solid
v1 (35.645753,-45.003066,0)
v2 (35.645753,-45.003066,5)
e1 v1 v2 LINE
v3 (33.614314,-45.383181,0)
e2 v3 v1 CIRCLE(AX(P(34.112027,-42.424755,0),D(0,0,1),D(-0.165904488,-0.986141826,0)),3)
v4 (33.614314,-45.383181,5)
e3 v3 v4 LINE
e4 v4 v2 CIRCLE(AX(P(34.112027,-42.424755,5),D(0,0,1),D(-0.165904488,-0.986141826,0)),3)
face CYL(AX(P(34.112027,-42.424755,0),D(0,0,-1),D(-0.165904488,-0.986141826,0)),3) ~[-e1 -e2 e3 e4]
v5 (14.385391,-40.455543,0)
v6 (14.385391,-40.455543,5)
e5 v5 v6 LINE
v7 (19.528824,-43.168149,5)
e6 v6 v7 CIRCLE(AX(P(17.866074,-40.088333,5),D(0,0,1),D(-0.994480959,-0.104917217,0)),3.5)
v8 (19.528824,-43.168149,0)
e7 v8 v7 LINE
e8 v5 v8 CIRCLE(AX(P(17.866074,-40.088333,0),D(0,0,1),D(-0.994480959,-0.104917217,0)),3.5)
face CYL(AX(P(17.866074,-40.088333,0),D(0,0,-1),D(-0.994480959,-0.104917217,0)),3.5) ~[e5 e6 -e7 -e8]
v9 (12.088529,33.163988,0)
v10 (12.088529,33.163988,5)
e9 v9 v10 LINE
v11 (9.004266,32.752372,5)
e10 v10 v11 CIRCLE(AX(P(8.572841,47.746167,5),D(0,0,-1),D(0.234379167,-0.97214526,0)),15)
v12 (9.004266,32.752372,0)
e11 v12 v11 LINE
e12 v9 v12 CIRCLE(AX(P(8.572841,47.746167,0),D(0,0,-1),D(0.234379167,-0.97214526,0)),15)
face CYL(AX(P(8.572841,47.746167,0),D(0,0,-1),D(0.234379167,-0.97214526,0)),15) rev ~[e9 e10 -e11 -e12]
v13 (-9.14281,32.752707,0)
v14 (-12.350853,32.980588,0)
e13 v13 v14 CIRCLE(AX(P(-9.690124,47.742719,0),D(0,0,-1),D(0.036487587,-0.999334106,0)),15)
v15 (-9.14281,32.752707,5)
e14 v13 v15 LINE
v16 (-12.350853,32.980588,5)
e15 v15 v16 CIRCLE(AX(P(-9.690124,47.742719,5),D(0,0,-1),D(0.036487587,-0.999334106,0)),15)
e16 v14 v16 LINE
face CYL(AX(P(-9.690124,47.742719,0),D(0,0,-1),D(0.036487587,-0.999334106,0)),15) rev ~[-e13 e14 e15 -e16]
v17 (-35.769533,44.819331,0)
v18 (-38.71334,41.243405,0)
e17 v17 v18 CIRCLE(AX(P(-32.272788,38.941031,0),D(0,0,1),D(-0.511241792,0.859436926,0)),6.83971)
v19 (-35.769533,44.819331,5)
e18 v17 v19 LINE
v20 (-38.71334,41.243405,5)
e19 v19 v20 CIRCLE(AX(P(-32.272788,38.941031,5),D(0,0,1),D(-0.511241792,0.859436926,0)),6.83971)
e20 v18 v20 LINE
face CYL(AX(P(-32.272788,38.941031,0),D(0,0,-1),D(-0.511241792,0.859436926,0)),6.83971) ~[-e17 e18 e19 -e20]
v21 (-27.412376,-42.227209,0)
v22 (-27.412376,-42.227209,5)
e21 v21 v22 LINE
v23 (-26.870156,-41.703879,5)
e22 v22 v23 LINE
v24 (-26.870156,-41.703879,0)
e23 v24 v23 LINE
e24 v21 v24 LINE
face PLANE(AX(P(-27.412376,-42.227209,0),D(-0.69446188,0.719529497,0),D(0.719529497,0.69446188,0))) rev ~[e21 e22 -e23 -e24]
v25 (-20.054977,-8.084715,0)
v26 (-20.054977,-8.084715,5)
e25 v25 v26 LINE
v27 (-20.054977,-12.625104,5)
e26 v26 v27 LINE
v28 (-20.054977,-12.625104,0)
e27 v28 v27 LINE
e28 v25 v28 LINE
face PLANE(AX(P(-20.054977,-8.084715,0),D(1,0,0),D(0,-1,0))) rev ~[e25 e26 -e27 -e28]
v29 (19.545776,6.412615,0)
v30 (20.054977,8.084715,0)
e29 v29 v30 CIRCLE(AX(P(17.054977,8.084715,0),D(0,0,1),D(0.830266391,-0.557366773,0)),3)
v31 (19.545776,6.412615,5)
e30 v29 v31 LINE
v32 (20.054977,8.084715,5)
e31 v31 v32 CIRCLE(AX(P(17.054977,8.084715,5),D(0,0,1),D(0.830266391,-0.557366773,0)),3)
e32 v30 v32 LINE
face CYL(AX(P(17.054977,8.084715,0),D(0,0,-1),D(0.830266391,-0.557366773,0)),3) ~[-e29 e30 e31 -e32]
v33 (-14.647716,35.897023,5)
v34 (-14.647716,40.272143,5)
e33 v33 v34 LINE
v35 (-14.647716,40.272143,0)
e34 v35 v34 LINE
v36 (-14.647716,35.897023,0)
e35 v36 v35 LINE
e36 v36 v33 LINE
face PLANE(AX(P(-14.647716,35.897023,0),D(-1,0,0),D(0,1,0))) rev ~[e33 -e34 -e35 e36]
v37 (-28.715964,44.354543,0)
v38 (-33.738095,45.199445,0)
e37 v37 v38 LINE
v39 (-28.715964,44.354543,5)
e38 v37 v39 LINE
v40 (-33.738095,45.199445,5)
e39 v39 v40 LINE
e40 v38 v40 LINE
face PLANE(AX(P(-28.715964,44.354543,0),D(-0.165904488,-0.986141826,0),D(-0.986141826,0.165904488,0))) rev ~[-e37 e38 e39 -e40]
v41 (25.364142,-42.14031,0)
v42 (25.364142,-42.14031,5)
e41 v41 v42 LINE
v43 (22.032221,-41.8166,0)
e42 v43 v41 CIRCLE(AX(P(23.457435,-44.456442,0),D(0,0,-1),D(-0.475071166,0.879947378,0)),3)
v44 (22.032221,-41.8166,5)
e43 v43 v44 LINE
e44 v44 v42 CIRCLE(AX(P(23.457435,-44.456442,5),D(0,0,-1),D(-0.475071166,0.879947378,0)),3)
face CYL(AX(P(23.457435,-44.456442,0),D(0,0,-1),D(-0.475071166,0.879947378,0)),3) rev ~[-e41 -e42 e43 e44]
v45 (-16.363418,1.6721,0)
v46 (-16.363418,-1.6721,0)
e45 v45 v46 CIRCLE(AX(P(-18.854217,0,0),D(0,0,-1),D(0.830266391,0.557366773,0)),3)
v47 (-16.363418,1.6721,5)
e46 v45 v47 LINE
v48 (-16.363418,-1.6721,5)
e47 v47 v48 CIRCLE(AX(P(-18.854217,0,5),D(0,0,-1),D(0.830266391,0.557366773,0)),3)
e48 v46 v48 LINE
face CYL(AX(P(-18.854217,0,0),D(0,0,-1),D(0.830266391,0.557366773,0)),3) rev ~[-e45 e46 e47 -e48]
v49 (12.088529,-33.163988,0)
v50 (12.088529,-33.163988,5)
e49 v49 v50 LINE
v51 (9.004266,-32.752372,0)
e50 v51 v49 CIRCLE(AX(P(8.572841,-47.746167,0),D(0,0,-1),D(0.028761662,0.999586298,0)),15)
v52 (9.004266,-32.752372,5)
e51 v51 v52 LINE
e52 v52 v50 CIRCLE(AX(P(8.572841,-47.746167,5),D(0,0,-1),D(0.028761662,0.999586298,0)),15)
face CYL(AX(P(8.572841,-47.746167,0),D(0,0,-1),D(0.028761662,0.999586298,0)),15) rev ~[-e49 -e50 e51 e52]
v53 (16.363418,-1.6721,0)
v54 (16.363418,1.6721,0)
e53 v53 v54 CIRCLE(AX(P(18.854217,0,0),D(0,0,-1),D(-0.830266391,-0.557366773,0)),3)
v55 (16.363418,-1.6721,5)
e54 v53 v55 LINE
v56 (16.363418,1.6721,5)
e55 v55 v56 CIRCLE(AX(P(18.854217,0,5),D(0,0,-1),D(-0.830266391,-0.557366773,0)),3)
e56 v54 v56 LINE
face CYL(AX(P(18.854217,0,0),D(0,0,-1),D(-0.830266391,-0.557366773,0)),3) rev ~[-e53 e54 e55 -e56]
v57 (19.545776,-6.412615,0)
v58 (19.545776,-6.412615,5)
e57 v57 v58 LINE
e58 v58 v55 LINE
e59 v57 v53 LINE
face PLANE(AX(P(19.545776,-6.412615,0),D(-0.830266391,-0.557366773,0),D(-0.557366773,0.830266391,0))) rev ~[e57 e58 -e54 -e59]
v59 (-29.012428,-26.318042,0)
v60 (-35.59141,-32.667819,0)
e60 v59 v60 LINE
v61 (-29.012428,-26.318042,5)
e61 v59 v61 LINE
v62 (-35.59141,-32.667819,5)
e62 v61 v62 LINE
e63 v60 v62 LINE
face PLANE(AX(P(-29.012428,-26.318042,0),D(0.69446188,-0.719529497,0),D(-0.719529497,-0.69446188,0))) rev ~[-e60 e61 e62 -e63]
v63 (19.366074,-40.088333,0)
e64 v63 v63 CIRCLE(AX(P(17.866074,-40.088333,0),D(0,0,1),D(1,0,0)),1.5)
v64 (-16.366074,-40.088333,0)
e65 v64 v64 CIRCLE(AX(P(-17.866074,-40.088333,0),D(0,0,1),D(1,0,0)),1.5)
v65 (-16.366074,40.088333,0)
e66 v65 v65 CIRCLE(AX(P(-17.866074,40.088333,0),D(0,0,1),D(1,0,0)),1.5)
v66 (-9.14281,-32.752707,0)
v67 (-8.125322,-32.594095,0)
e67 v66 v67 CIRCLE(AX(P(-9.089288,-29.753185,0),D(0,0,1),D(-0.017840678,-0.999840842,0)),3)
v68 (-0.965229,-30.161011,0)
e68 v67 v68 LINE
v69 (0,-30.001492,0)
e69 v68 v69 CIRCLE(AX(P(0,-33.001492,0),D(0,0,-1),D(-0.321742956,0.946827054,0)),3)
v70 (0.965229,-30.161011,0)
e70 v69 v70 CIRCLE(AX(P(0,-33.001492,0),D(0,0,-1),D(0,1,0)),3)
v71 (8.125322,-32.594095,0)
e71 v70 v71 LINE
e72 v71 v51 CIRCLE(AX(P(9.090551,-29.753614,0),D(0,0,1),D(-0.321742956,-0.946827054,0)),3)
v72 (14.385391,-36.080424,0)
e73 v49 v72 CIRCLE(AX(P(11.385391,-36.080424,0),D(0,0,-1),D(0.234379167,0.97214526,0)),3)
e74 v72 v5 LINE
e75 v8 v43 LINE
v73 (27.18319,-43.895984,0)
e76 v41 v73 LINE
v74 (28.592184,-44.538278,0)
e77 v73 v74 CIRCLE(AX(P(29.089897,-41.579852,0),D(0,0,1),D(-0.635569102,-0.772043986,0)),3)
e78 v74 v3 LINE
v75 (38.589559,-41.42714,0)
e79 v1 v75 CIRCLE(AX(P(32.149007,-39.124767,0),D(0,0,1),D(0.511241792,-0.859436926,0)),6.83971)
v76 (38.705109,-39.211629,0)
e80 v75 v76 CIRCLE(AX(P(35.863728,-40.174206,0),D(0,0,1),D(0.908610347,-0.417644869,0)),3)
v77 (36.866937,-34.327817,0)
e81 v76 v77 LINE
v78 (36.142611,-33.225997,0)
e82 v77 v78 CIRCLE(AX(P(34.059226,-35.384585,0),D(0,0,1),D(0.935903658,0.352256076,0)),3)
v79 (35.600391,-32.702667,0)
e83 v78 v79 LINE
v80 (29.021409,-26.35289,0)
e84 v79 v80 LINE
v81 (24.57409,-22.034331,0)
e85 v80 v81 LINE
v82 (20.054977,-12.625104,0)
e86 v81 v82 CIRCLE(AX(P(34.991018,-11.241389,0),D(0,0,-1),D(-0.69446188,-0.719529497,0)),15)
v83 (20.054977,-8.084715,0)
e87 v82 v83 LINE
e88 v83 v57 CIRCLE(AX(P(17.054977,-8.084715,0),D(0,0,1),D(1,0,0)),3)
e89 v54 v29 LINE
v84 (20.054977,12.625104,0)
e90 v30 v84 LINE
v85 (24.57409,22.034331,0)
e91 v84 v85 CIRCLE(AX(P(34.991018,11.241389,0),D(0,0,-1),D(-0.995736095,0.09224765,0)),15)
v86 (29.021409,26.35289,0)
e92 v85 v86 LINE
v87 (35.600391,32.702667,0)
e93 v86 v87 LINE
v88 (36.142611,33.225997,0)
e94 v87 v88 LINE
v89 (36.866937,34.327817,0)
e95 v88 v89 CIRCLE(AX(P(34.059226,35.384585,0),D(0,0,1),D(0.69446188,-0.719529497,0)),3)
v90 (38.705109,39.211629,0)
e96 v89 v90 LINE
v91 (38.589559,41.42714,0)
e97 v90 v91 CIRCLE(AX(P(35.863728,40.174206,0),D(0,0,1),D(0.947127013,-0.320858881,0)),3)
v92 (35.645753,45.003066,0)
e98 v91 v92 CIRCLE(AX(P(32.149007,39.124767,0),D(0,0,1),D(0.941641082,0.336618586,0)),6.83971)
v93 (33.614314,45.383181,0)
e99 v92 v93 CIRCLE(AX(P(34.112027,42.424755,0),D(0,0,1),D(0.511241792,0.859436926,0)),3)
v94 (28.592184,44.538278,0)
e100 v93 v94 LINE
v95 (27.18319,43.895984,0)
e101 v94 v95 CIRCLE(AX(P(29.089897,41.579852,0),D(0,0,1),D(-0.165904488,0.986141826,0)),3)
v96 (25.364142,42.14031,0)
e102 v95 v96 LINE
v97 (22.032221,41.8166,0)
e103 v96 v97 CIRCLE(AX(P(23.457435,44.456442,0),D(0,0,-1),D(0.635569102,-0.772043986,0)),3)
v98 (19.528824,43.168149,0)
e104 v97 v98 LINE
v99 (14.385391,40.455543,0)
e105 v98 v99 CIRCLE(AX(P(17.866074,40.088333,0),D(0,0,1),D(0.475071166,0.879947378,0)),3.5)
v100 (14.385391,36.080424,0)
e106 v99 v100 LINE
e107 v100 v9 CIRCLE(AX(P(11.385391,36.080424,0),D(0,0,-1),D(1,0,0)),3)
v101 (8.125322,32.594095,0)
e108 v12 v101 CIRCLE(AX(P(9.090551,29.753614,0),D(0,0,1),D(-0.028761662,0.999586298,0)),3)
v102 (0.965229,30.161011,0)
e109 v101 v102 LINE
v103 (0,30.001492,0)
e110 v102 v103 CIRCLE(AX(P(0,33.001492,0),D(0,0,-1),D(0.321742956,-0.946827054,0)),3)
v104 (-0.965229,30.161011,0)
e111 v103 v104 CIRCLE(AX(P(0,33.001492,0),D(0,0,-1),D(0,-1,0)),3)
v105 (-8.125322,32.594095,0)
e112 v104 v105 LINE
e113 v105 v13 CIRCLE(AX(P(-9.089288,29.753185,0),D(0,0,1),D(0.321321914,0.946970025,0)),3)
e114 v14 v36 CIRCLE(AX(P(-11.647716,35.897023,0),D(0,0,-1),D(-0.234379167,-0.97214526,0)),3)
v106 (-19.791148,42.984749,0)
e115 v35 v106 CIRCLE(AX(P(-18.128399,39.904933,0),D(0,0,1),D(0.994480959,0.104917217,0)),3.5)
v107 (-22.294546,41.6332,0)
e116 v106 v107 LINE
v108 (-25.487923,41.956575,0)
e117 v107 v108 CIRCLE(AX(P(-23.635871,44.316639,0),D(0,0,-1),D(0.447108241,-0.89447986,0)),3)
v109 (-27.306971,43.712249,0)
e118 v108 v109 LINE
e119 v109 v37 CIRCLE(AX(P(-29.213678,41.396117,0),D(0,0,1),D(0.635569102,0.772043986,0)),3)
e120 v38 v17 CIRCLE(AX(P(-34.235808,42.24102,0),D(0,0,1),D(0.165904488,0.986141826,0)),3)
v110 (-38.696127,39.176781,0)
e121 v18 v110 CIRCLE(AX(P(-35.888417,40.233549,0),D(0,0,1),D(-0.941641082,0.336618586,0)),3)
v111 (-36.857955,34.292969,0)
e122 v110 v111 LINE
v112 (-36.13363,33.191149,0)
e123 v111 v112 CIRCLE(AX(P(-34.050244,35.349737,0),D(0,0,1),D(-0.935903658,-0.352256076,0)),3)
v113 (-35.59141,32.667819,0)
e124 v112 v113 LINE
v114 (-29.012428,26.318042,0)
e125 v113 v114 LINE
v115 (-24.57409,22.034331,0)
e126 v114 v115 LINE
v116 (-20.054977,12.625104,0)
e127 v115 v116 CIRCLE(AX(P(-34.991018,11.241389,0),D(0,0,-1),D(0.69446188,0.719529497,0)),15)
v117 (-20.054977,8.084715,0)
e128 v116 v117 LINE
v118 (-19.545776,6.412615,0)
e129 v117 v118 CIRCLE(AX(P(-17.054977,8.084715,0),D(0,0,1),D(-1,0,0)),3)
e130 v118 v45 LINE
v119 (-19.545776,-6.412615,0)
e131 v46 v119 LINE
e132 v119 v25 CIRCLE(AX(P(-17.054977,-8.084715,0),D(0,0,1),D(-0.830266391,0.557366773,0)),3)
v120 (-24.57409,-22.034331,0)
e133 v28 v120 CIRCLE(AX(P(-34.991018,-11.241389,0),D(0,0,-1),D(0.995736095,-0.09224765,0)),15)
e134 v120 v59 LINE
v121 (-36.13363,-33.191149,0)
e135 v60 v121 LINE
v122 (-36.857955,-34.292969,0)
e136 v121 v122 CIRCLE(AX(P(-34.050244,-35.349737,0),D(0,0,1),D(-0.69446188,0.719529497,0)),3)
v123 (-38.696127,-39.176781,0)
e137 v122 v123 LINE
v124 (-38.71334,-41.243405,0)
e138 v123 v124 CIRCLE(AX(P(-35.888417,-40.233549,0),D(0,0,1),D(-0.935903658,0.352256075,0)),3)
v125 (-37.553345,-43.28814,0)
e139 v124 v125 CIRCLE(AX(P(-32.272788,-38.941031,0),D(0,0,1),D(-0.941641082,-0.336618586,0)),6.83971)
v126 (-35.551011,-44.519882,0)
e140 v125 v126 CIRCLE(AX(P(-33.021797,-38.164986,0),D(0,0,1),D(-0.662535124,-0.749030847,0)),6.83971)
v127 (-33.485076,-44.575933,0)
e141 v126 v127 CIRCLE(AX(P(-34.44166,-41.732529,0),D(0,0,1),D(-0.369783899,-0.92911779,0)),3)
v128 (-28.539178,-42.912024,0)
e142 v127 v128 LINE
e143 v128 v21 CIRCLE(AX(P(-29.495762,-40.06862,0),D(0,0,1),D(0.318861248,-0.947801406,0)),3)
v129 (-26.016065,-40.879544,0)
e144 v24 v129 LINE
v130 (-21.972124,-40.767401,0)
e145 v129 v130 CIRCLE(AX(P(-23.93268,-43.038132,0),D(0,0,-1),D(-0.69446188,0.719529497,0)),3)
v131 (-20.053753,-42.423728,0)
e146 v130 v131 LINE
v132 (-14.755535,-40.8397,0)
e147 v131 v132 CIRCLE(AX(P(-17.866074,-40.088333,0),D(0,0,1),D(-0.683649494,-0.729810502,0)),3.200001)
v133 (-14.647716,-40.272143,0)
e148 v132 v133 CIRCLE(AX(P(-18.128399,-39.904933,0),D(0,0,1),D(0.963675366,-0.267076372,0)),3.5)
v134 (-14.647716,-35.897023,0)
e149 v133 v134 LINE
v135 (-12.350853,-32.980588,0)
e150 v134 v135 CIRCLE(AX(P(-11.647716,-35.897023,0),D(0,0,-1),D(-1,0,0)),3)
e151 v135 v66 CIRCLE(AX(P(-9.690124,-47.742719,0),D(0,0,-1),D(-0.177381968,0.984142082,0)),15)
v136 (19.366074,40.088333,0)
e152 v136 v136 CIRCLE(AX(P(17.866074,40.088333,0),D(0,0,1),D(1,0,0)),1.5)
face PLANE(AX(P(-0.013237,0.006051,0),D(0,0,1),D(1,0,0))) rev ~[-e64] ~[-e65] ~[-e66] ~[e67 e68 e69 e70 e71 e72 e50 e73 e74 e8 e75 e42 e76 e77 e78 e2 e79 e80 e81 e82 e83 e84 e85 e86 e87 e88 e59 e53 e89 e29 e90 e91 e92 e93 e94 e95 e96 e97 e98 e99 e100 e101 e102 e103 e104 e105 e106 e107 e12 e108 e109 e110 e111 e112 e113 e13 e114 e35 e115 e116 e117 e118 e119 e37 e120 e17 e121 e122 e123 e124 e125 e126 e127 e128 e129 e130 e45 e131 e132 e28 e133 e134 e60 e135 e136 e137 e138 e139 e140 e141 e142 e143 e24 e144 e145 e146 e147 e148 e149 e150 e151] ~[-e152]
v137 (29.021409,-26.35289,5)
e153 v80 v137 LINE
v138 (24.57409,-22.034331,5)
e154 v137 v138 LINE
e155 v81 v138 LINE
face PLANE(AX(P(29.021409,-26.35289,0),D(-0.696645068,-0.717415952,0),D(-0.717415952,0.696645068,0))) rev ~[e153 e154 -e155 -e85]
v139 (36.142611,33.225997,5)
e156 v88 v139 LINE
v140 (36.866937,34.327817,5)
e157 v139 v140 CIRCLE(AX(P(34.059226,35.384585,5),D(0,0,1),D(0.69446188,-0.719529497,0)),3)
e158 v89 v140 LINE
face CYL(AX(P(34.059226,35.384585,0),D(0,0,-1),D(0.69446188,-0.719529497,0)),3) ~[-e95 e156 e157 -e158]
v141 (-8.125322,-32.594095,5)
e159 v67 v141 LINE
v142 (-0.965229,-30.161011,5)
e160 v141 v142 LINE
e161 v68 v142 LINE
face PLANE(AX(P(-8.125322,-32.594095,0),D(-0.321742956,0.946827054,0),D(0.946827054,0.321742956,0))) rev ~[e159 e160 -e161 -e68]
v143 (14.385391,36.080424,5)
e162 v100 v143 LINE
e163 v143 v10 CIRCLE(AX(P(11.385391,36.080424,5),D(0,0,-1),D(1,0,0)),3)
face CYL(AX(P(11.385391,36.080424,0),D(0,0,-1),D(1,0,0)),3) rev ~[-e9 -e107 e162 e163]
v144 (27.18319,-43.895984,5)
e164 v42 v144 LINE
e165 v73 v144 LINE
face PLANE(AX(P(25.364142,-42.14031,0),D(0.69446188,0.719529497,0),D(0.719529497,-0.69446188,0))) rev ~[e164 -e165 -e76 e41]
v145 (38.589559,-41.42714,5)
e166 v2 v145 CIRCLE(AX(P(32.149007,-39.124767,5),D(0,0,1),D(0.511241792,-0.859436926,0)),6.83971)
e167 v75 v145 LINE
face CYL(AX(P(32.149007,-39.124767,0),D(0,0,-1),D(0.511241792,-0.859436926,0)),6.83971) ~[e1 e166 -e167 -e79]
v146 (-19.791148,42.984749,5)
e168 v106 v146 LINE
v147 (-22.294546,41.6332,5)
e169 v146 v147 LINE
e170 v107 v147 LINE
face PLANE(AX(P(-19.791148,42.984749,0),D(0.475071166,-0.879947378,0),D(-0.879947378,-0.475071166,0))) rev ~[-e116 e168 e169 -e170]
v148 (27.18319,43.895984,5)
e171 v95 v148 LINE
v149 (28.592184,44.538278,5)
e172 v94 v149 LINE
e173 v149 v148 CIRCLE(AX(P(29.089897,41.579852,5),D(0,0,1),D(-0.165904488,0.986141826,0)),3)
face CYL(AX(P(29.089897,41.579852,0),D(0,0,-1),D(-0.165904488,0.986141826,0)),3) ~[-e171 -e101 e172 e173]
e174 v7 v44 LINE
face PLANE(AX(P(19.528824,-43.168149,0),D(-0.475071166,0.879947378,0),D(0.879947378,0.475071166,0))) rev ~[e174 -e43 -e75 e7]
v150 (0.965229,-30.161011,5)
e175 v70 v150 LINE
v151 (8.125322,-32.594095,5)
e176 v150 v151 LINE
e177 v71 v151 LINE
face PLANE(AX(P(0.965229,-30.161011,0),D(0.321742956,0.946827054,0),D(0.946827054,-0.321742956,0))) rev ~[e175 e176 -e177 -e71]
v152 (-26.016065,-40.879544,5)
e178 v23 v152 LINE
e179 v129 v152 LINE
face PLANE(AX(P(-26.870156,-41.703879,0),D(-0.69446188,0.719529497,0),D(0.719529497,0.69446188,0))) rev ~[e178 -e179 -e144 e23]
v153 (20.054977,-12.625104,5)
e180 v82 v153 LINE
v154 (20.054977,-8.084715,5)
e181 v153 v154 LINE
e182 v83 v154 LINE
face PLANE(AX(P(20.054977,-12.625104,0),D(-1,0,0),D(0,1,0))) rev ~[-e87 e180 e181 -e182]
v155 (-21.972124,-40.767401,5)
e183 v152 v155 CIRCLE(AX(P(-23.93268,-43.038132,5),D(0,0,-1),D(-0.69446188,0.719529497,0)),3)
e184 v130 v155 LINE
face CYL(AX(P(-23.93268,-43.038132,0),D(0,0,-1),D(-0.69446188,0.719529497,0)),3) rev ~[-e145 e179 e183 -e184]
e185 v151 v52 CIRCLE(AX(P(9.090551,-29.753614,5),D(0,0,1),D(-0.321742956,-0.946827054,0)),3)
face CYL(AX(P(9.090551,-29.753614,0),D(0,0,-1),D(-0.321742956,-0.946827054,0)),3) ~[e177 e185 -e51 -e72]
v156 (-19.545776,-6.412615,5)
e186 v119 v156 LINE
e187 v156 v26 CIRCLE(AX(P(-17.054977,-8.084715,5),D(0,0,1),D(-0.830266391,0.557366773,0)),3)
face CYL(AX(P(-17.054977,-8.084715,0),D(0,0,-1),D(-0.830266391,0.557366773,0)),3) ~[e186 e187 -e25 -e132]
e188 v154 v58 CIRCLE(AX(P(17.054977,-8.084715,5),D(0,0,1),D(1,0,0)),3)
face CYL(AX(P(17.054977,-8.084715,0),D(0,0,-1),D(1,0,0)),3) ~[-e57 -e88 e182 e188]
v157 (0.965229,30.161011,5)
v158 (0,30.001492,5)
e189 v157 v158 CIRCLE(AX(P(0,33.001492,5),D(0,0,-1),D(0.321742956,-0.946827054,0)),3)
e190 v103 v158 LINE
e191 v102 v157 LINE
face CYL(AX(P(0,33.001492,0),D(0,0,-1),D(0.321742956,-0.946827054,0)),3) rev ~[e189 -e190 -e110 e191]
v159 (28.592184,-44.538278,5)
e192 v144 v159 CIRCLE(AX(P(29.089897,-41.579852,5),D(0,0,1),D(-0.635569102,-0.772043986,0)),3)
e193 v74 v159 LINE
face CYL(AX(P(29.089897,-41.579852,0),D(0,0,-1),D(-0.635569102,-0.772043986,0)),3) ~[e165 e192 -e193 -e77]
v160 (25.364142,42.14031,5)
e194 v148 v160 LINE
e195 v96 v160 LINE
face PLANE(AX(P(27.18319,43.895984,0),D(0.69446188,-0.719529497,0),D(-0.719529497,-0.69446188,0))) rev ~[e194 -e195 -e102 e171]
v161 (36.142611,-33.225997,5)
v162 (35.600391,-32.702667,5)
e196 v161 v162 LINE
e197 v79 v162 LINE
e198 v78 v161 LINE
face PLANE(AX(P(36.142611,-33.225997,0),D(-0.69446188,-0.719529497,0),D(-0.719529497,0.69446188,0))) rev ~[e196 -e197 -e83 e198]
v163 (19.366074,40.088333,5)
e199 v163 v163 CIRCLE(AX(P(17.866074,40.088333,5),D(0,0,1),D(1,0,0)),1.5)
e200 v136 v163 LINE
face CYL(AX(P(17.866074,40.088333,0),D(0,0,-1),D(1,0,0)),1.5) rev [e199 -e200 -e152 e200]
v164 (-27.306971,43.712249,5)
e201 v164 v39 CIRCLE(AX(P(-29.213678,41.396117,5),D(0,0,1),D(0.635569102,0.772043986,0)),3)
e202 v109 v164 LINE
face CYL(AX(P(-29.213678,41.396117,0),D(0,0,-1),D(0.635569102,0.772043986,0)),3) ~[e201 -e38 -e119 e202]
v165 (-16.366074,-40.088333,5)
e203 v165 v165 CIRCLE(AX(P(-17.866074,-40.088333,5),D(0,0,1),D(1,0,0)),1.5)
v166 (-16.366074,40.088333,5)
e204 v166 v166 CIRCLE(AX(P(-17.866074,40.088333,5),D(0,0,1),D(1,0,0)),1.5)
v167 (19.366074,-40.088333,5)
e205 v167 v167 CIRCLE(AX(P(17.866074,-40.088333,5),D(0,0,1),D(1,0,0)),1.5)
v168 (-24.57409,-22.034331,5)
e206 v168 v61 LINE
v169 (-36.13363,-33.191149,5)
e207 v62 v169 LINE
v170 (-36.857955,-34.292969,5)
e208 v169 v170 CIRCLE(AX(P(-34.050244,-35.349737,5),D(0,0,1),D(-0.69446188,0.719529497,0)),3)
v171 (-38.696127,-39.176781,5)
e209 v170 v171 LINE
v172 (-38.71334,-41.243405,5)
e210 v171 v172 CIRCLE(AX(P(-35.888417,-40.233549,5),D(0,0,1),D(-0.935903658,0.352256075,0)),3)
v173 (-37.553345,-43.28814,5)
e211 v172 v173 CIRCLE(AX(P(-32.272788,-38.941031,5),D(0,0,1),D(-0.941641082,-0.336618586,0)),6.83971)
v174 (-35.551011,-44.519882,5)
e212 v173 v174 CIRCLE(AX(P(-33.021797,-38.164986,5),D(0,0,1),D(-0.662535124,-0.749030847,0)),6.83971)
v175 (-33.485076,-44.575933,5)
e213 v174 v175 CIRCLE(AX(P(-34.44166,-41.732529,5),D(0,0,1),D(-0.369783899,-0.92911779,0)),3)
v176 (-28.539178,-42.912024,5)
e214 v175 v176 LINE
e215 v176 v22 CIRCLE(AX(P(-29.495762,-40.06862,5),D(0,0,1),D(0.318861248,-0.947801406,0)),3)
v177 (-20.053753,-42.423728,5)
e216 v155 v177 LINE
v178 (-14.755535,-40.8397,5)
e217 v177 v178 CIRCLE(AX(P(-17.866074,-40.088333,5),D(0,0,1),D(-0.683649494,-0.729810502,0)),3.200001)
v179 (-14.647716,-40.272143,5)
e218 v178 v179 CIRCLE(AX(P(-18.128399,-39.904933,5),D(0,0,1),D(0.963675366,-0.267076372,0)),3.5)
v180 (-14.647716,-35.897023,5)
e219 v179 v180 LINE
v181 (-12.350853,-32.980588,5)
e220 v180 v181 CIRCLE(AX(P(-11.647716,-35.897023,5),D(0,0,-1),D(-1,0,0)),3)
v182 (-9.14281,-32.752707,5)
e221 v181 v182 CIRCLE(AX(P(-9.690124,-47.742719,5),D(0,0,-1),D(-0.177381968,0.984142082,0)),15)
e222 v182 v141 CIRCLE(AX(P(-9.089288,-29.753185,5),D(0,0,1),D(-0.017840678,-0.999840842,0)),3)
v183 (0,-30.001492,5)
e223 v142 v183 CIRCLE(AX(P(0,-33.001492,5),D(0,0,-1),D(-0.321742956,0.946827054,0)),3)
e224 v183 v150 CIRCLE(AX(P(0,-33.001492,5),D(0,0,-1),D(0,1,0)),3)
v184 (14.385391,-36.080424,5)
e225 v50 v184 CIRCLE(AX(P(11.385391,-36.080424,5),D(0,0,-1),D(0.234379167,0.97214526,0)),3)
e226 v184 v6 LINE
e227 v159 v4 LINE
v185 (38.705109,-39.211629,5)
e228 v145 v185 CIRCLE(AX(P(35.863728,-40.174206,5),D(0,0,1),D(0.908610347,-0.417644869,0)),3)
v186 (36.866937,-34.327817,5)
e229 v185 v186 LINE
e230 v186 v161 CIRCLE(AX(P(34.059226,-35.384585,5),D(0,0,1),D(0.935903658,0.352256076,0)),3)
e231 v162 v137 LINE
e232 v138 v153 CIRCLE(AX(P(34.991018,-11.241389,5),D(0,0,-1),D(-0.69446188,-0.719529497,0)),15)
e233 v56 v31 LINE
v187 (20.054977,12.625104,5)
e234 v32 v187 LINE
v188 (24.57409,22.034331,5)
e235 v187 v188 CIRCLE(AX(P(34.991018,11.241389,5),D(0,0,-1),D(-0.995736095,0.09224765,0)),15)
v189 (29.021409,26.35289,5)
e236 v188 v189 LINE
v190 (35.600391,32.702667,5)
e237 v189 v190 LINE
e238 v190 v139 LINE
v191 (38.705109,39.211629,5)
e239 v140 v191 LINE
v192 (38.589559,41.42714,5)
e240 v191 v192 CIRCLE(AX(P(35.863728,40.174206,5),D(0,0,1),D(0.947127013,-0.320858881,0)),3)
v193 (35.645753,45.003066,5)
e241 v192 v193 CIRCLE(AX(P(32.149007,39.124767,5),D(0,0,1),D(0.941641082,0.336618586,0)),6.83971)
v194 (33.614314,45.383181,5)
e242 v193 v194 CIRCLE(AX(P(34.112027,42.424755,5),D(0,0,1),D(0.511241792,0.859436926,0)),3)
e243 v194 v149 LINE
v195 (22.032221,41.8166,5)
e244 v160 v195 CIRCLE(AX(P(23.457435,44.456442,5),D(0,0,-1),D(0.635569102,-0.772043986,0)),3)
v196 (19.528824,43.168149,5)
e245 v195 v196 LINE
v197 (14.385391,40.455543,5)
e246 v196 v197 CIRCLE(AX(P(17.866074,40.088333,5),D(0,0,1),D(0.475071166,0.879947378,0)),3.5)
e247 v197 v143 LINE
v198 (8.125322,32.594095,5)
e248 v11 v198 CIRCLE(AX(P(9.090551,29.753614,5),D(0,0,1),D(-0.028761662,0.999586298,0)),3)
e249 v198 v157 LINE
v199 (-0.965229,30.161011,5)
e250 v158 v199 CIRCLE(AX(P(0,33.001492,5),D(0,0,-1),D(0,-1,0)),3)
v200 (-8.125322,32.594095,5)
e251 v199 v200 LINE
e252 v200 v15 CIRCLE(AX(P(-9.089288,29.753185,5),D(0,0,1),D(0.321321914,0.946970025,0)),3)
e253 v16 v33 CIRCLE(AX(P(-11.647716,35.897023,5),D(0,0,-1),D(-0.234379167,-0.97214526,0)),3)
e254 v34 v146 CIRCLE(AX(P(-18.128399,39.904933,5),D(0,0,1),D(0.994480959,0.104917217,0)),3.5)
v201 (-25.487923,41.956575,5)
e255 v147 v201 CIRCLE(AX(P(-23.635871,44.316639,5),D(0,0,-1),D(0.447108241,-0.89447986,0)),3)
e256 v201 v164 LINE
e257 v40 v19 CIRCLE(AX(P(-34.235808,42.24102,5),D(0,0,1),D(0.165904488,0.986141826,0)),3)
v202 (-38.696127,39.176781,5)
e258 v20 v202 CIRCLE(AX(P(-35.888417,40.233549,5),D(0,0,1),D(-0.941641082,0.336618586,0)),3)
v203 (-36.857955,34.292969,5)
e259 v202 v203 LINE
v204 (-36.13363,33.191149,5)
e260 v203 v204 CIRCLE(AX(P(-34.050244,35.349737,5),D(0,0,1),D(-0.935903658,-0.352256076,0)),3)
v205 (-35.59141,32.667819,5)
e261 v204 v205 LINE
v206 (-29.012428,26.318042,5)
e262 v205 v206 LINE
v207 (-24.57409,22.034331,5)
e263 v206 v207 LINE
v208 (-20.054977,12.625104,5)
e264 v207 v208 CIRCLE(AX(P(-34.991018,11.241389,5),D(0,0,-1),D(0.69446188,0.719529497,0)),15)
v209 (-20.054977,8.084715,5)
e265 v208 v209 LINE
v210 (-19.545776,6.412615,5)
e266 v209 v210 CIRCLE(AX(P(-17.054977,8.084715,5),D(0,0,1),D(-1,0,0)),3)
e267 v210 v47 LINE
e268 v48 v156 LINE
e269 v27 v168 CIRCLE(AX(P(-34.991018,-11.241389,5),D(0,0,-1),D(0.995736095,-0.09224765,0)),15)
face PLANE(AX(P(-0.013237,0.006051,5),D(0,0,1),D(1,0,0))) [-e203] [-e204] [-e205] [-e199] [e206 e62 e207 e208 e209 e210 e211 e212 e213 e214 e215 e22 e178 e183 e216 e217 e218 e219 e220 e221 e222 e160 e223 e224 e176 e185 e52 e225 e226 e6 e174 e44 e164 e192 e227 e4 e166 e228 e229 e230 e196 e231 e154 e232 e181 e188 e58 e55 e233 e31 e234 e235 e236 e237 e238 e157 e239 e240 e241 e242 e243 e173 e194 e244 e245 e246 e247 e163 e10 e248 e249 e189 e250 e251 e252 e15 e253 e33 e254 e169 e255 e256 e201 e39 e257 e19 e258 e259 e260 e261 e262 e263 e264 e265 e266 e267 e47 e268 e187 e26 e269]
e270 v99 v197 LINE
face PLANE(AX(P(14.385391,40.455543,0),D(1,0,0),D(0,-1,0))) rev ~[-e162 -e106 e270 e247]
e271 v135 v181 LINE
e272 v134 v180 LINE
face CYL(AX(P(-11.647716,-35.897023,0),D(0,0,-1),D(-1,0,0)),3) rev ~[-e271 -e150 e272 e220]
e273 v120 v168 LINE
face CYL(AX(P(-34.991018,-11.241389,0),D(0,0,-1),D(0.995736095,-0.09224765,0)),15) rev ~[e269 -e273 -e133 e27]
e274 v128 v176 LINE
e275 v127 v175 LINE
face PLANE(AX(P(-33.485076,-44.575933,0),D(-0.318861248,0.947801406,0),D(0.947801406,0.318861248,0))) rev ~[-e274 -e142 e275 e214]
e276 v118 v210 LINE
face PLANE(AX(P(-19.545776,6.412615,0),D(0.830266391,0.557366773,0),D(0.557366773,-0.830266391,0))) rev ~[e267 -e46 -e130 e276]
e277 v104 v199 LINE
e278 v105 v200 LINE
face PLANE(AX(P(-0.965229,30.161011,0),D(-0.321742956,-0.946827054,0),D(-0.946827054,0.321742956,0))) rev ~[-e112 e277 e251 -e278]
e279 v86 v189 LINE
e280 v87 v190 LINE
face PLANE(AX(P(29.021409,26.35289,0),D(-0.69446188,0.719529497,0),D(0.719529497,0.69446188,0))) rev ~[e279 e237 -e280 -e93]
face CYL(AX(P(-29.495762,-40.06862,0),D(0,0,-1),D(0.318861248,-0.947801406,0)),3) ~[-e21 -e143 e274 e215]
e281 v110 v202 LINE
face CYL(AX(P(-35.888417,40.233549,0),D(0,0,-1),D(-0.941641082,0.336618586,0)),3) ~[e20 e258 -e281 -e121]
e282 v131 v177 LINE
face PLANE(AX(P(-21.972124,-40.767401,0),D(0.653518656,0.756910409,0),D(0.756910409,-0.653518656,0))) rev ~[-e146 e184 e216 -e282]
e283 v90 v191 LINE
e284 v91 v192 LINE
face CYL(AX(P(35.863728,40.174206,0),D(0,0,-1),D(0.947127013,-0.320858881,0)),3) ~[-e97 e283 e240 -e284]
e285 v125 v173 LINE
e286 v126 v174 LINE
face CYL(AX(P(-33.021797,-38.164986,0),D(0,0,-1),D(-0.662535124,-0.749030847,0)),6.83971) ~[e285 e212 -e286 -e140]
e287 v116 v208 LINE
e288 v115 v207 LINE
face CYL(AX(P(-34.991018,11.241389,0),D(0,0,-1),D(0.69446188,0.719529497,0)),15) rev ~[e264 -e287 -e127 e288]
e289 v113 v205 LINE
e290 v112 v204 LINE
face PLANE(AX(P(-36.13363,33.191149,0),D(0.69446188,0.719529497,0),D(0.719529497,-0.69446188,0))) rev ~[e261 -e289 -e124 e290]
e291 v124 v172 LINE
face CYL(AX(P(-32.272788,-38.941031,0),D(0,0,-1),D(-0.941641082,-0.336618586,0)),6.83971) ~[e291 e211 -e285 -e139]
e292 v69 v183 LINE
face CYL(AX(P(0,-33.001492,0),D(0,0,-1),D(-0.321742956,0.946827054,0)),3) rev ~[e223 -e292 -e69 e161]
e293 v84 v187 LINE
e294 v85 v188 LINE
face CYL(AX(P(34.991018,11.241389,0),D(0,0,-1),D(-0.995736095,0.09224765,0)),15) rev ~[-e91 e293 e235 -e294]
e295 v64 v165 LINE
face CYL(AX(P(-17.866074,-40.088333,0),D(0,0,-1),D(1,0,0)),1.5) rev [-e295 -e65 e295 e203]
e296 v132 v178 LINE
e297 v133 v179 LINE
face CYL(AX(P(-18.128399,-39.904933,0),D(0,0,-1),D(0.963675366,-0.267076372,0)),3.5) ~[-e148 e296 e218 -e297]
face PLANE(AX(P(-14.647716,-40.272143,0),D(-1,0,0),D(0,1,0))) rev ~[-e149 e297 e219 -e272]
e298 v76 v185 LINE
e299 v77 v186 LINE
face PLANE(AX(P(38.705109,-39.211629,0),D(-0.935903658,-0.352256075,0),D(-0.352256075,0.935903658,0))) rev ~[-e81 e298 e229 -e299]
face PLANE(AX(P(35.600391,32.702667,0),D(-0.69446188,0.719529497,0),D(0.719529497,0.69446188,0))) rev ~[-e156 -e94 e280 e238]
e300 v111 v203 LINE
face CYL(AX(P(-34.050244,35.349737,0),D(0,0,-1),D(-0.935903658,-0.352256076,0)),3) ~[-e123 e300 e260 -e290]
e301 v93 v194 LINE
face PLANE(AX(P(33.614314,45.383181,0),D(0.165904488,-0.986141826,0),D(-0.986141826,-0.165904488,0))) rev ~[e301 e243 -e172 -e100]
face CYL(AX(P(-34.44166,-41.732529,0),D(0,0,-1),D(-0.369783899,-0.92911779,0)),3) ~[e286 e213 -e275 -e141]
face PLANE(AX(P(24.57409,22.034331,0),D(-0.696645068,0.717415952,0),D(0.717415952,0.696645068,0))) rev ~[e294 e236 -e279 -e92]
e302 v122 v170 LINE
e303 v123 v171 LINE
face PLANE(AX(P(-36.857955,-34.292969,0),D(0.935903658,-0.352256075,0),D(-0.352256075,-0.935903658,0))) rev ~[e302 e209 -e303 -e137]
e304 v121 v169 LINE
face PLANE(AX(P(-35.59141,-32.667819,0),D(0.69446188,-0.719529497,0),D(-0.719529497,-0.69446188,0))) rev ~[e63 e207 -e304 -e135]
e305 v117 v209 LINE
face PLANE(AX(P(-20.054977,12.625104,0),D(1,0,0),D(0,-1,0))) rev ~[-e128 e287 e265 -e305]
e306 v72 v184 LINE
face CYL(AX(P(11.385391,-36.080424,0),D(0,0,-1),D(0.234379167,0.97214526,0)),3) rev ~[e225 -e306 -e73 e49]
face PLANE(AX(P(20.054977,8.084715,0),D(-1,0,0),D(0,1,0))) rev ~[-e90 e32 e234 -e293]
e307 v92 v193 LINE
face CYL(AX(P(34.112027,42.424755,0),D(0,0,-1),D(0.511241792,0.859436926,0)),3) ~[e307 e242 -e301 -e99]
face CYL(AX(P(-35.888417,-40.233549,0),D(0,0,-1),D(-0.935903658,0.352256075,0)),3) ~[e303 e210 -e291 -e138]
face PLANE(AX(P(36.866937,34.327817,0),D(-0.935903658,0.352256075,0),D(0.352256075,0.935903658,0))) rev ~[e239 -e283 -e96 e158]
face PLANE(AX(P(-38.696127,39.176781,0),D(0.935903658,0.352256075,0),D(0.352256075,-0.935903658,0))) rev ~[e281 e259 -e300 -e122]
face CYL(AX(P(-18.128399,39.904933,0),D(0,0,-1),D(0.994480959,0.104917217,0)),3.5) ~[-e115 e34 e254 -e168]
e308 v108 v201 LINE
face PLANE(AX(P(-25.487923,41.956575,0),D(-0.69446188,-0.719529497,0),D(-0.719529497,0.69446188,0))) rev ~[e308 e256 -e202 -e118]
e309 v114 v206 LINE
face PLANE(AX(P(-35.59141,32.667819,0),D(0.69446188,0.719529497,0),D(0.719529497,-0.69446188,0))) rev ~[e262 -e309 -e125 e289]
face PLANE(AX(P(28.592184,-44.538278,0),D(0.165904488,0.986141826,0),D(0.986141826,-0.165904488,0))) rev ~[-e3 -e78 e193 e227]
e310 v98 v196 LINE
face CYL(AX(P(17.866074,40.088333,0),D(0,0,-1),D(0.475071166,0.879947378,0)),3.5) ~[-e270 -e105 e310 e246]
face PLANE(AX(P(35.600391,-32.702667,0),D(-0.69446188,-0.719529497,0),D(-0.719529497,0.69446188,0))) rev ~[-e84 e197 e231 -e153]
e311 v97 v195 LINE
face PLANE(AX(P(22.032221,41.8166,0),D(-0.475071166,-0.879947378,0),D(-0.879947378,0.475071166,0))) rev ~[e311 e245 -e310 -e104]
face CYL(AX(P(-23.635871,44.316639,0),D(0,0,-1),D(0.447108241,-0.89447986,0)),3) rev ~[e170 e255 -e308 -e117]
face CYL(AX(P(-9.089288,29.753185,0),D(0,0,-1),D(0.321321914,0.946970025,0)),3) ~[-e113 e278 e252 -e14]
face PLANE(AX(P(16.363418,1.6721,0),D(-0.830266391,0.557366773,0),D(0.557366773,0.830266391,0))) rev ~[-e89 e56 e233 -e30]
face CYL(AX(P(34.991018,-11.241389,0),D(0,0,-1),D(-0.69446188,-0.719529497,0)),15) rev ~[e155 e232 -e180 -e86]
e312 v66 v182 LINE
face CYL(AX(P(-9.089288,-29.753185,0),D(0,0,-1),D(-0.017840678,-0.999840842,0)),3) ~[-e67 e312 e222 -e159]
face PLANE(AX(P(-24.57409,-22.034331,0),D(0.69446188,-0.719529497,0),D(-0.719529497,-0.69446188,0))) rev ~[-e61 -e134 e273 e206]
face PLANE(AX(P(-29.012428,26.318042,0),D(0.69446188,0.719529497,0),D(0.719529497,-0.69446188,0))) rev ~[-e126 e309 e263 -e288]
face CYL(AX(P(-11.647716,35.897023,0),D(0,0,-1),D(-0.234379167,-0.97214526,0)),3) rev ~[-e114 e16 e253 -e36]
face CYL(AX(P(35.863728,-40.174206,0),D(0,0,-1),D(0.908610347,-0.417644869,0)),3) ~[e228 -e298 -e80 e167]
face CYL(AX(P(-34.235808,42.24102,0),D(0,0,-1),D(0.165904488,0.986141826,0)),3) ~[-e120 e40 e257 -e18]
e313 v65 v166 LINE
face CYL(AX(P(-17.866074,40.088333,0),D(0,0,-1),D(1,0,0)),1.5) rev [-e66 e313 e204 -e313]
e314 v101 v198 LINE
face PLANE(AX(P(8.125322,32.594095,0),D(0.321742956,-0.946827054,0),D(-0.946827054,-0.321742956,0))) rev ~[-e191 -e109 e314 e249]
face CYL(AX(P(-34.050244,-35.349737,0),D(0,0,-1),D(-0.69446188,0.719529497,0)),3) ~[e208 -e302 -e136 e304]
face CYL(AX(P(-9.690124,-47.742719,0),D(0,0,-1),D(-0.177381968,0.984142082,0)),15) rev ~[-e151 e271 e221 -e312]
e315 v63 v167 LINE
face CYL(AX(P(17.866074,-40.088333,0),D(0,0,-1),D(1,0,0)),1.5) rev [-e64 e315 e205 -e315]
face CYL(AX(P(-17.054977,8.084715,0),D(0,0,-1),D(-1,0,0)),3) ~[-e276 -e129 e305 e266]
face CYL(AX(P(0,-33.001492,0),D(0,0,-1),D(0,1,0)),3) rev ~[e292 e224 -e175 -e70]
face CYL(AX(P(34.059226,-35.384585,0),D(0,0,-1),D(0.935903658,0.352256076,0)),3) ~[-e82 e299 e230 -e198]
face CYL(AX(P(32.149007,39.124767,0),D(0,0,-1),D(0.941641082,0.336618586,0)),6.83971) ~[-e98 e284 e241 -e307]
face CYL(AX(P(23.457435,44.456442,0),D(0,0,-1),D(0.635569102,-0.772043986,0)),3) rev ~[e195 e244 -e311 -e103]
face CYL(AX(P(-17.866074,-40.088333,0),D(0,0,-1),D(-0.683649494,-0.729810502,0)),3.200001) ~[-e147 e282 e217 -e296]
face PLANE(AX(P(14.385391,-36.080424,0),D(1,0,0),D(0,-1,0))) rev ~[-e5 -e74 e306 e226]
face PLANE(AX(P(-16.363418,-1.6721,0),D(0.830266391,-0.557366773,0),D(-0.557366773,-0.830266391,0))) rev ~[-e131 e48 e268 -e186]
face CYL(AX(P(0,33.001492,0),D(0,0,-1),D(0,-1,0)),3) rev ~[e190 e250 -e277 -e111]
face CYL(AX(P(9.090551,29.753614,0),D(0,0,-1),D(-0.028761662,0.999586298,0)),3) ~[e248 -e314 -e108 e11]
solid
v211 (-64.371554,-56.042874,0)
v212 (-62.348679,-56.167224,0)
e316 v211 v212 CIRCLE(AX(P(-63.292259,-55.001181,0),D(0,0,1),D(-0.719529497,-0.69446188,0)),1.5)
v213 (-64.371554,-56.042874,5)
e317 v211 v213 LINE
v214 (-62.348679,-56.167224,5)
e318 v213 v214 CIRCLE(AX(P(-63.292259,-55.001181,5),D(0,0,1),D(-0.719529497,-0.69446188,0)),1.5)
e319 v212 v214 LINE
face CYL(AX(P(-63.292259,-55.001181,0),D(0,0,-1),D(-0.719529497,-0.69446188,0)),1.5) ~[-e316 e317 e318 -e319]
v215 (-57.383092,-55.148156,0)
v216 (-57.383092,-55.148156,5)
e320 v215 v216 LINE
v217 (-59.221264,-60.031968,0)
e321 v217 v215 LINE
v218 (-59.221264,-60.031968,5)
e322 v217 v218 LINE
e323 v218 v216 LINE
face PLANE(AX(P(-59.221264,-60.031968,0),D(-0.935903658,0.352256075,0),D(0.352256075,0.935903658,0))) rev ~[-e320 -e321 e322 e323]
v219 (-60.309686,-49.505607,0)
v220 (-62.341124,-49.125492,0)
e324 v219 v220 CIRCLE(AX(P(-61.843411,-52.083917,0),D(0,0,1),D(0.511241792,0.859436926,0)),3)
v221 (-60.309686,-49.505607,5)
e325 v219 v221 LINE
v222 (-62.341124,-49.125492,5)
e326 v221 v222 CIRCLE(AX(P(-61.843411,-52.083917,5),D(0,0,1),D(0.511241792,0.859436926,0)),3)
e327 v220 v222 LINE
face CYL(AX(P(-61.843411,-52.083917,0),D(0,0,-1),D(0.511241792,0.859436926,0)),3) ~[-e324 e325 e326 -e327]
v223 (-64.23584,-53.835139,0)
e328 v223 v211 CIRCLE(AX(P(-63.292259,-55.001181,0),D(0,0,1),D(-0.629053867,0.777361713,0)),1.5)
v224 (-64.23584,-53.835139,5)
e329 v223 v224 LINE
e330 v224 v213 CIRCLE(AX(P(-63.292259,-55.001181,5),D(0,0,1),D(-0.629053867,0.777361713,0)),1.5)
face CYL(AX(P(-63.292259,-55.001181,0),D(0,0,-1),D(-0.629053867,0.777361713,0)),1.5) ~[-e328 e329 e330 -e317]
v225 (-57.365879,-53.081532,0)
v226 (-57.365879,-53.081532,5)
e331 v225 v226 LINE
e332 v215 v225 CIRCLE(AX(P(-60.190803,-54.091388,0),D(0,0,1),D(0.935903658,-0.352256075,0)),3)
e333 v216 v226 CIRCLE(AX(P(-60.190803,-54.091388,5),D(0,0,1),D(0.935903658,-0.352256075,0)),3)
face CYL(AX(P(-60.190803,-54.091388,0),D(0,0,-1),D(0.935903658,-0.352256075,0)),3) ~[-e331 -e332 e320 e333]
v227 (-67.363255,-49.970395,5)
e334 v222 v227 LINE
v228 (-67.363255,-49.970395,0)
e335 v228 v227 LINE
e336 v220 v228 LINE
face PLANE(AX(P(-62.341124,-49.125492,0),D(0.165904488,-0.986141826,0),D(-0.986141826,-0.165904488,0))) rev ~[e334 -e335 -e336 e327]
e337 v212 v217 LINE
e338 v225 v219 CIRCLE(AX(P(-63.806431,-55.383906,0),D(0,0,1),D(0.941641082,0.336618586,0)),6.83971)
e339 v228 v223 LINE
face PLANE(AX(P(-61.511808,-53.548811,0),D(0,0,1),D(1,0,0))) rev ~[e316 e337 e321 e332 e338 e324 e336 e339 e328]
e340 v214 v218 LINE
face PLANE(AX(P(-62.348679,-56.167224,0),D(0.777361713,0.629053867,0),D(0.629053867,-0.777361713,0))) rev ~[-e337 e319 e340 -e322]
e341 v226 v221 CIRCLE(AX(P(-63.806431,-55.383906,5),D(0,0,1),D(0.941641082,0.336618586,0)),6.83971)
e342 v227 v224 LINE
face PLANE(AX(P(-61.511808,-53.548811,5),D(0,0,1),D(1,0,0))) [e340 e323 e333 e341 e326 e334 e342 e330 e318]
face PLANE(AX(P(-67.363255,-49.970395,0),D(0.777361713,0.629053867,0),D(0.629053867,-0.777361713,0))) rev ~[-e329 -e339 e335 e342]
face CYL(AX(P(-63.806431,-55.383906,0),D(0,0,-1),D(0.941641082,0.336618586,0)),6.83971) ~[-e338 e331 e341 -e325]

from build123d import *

# Parameters (mm, degrees)
F0_R     = 1.5
F1_DEPTH = 5


with BuildPart() as f1:
    # F0 (on Top) → F1 (new body)
    with BuildSketch(Plane.XY):
        with BuildLine():
            ThreePointArc((28.5921836631, 44.5382779555), (27.8455318059, 44.3096061199), (27.18318982, 43.8959844353))
            Line((27.18318982, 43.8959844353), (25.36414196, 42.1403102047))
            ThreePointArc((25.36414196, 42.1403102047), (23.7475314323, 41.4705011282), (22.0322211549, 41.8166000296))
            Line((22.0322211549, 41.8166000296), (19.5288235349, 43.1681490616))
            ThreePointArc((19.5288235349, 43.1681490616), (16.2333532615, 43.1841726269), (14.3853910977, 40.4555434988))
            Line((14.3853910977, 40.4555434988), (14.3853910977, 36.0804238247))
            ThreePointArc((14.3853910977, 36.0804238247), (13.7422335304, 34.2242735755), (12.0885285994, 33.1639880455))
            ThreePointArc((12.0885285994, 33.1639880455), (10.5570993875, 32.8779888748), (9.004266017, 32.7523724736))
            ThreePointArc((9.004266017, 32.7523724736), (8.5588712997, 32.7061238162), (8.125322134, 32.5940947422))
            Line((8.125322134, 32.5940947422), (0.9652288681, 30.1610109355))
            ThreePointArc((0.9652288681, 30.1610109355), (0.4891607679, 30.0416404555), (0, 30.0014920975))
            ThreePointArc((0, 30.0014920975), (-0.4891607679, 30.0416404555), (-0.9652288681, 30.1610109355))
            Line((-0.9652288681, 30.1610109355), (-8.125322134, 32.5940947422))
            ThreePointArc((-8.125322134, 32.5940947422), (-8.6272095116, 32.7173849963), (-9.1428099079, 32.7527071954))
            ThreePointArc((-9.1428099079, 32.7527071954), (-10.7529566618, 32.7804199642), (-12.3508532478, 32.9805875619))
            ThreePointArc((-12.3508532478, 32.9805875619), (-14.0045581788, 34.0408730919), (-14.6477157461, 35.8970233411))
            Line((-14.6477157461, 35.8970233411), (-14.6477157461, 40.2721430152))
            ThreePointArc((-14.6477157461, 40.2721430152), (-16.4956779099, 43.0007721433), (-19.7911481833, 42.984748578))
            Line((-19.7911481833, 42.984748578), (-22.2945458033, 41.633199546))
            ThreePointArc((-22.2945458033, 41.633199546), (-23.9381180371, 41.3319035535), (-25.4879227175, 41.9565749993))
            Line((-25.4879227175, 41.9565749993), (-27.3069705775, 43.7122492299))
            ThreePointArc((-27.3069705775, 43.7122492299), (-27.9693125633, 44.1258709145), (-28.7159644205, 44.3545427501))
            Line((-28.7159644205, 44.3545427501), (-33.7380945968, 45.199445495))
            ThreePointArc((-33.7380945968, 45.199445495), (-34.7875797232, 45.1898414822), (-35.7695334382, 44.819330795))
            ThreePointArc((-35.7695334382, 44.819330795), (-37.5533448102, 43.288139802), (-38.7133397674, 41.2434049616))
            ThreePointArc((-38.7133397674, 41.2434049616), (-38.8883124755, 40.2085639984), (-38.6961274951, 39.1767809781))
            Line((-38.6961274951, 39.1767809781), (-36.8579549956, 34.2929692104))
            ThreePointArc((-36.8579549956, 34.2929692104), (-36.5570763842, 33.7017715683), (-36.1336296608, 33.1911489451))
            Line((-36.1336296608, 33.1911489451), (-35.5914095939, 32.6678192297))
            Line((-35.5914095939, 32.6678192297), (-29.0124277762, 26.3180419121))
            Line((-29.0124277762, 26.3180419121), (-24.5740902909, 22.0343312296))
            ThreePointArc((-24.5740902909, 22.0343312296), (-21.469677626, 17.735489268), (-20.0549770624, 12.6251035174))
            Line((-20.0549770624, 12.6251035174), (-20.0549770624, 8.0847151044))
            ThreePointArc((-20.0549770624, 8.0847151044), (-19.9248548926, 7.2107578743), (-19.5457762357, 6.412614785))
            Line((-19.5457762357, 6.412614785), (-16.3634178036, 1.6721003194))
            ThreePointArc((-16.3634178036, 1.6721003194), (-15.8542169769, 0), (-16.3634178036, -1.6721003194))
            Line((-16.3634178036, -1.6721003194), (-19.5457762357, -6.412614785))
            ThreePointArc((-19.5457762357, -6.412614785), (-19.9248548926, -7.2107578743), (-20.0549770624, -8.0847151044))
            Line((-20.0549770624, -8.0847151044), (-20.0549770624, -12.6251035174))
            ThreePointArc((-20.0549770624, -12.6251035174), (-21.469677626, -17.735489268), (-24.5740902909, -22.0343312296))
            Line((-24.5740902909, -22.0343312296), (-29.0124277762, -26.3180419121))
            Line((-29.0124277762, -26.3180419121), (-35.5914095939, -32.6678192297))
            Line((-35.5914095939, -32.6678192297), (-36.1336296608, -33.1911489451))
            ThreePointArc((-36.1336296608, -33.1911489451), (-36.5570763842, -33.7017715683), (-36.8579549956, -34.2929692104))
            Line((-36.8579549956, -34.2929692104), (-38.6961274951, -39.1767809781))
            ThreePointArc((-38.6961274951, -39.1767809781), (-38.8883124755, -40.2085639984), (-38.7133397674, -41.2434049616))
            ThreePointArc((-38.7133397674, -41.2434049616), (-38.2218494121, -42.3159832036), (-37.5533448102, -43.288139802))
            ThreePointArc((-37.5533448102, -43.288139802), (-36.6054945104, -43.9906827997), (-35.5510113307, -44.5198822689))
            ThreePointArc((-35.5510113307, -44.5198822689), (-34.5230226232, -44.7314253731), (-33.4850758878, -44.5759331154))
            Line((-33.4850758878, -44.5759331154), (-28.5391782864, -42.9120243328))
            ThreePointArc((-28.5391782864, -42.9120243328), (-27.9376873831, -42.632290023), (-27.4123763915, -42.2272086078))
            Line((-27.4123763915, -42.2272086078), (-26.8701563245, -41.7038788924))
            Line((-26.8701563245, -41.7038788924), (-26.0160654742, -40.8795436292))
            ThreePointArc((-26.0160654742, -40.8795436292), (-24.0158410052, -40.0392849725), (-21.9721238673, -40.7674008953))
            Line((-21.9721238673, -40.7674008953), (-20.053753454, -42.4237275088))
            ThreePointArc((-20.053753454, -42.4237275088), (-16.9494483318, -43.1542429501), (-14.7555353203, -40.8397000581))
            ThreePointArc((-14.7555353203, -40.8397000581), (-14.6898954535, -40.5581499156), (-14.6477157461, -40.2721430152))
            Line((-14.6477157461, -40.2721430152), (-14.6477157461, -35.8970233411))
            ThreePointArc((-14.6477157461, -35.8970233411), (-14.0045581788, -34.0408730919), (-12.3508532478, -32.9805875619))
            ThreePointArc((-12.3508532478, -32.9805875619), (-10.7529566618, -32.7804199642), (-9.1428099079, -32.7527071954))
            ThreePointArc((-9.1428099079, -32.7527071954), (-8.6272095116, -32.7173849963), (-8.125322134, -32.5940947422))
            Line((-8.125322134, -32.5940947422), (-0.9652288681, -30.1610109355))
            ThreePointArc((-0.9652288681, -30.1610109355), (-0.4891607679, -30.0416404555), (0, -30.0014920975))
            ThreePointArc((0, -30.0014920975), (0.4891607679, -30.0416404555), (0.9652288681, -30.1610109355))
            Line((0.9652288681, -30.1610109355), (8.125322134, -32.5940947422))
            ThreePointArc((8.125322134, -32.5940947422), (8.5588712997, -32.7061238162), (9.004266017, -32.7523724736))
            ThreePointArc((9.004266017, -32.7523724736), (10.5570993875, -32.8779888748), (12.0885285994, -33.1639880455))
            ThreePointArc((12.0885285994, -33.1639880455), (13.7422335304, -34.2242735755), (14.3853910977, -36.0804238247))
            Line((14.3853910977, -36.0804238247), (14.3853910977, -40.4555434988))
            ThreePointArc((14.3853910977, -40.4555434988), (16.2333532615, -43.1841726269), (19.5288235349, -43.1681490616))
            Line((19.5288235349, -43.1681490616), (22.0322211549, -41.8166000296))
            ThreePointArc((22.0322211549, -41.8166000296), (23.7475314323, -41.4705011282), (25.36414196, -42.1403102047))
            Line((25.36414196, -42.1403102047), (27.18318982, -43.8959844353))
            ThreePointArc((27.18318982, -43.8959844353), (27.8455318059, -44.3096061199), (28.5921836631, -44.5382779555))
            Line((28.5921836631, -44.5382779555), (33.6143138393, -45.3831807004))
            ThreePointArc((33.6143138393, -45.3831807004), (34.6637989657, -45.3735766876), (35.6457526807, -45.0030660004))
            ThreePointArc((35.6457526807, -45.0030660004), (37.4295640528, -43.4718750074), (38.58955901, -41.427140167))
            ThreePointArc((38.58955901, -41.427140167), (38.8596560565, -40.3304581985), (38.705109006, -39.2116289157))
            Line((38.705109006, -39.2116289157), (36.8669365064, -34.327817148))
            ThreePointArc((36.8669365064, -34.327817148), (36.566057895, -33.7366195059), (36.1426111717, -33.2259968827))
            Line((36.1426111717, -33.2259968827), (35.6003911047, -32.7026671673))
            Line((35.6003911047, -32.7026671673), (29.021409287, -26.3528898497))
            Line((29.021409287, -26.3528898497), (24.5740902909, -22.0343312296))
            ThreePointArc((24.5740902909, -22.0343312296), (21.469677626, -17.735489268), (20.0549770624, -12.6251035174))
            Line((20.0549770624, -12.6251035174), (20.0549770624, -8.0847151044))
            ThreePointArc((20.0549770624, -8.0847151044), (19.9248548926, -7.2107578743), (19.5457762357, -6.412614785))
            Line((19.5457762357, -6.412614785), (16.3634178036, -1.6721003194))
            ThreePointArc((16.3634178036, -1.6721003194), (15.8542169769, 0), (16.3634178036, 1.6721003194))
            Line((16.3634178036, 1.6721003194), (19.5457762357, 6.412614785))
            ThreePointArc((19.5457762357, 6.412614785), (19.9248548926, 7.2107578743), (20.0549770624, 8.0847151044))
            Line((20.0549770624, 8.0847151044), (20.0549770624, 12.6251035174))
            ThreePointArc((20.0549770624, 12.6251035174), (21.469677626, 17.735489268), (24.5740902909, 22.0343312296))
            Line((24.5740902909, 22.0343312296), (29.021409287, 26.3528898497))
            Line((29.021409287, 26.3528898497), (35.6003911047, 32.7026671673))
            Line((35.6003911047, 32.7026671673), (36.1426111717, 33.2259968827))
            ThreePointArc((36.1426111717, 33.2259968827), (36.566057895, 33.7366195059), (36.8669365064, 34.327817148))
            Line((36.8669365064, 34.327817148), (38.705109006, 39.2116289157))
            ThreePointArc((38.705109006, 39.2116289157), (38.8596560565, 40.3304581985), (38.58955901, 41.427140167))
            ThreePointArc((38.58955901, 41.427140167), (37.4295640528, 43.4718750074), (35.6457526807, 45.0030660004))
            ThreePointArc((35.6457526807, 45.0030660004), (34.6637989657, 45.3735766876), (33.6143138393, 45.3831807004))
            Line((33.6143138393, 45.3831807004), (28.5921836631, 44.5382779555))
        make_face()
        with Locations((-17.8660744539, -40.0883332402)):
            Circle(F0_R, mode=Mode.SUBTRACT)
        with Locations((17.8660744539, -40.0883332402)):
            Circle(F0_R, mode=Mode.SUBTRACT)
        with Locations((-17.8660744539, 40.0883332402)):
            Circle(F0_R, mode=Mode.SUBTRACT)
        with Locations((17.8660744539, 40.0883332402)):
            Circle(F0_R, mode=Mode.SUBTRACT)
    extrude(amount=F1_DEPTH)


with BuildPart() as f1b:
    # F0 (on Top) → F1, piece 2 (new body)
    with BuildSketch(Plane.XY):
        with BuildLine():
            ThreePointArc((-60.3096856504, -49.5056065138), (-61.2916393654, -49.1350958266), (-62.3411244918, -49.1254918138))
            Line((-62.3411244918, -49.1254918138), (-67.3632546681, -49.9703945587))
            Line((-67.3632546681, -49.9703945587), (-64.2358401806, -53.8351387591))
            ThreePointArc((-64.2358401806, -53.8351387591), (-62.646260619, -53.6474141403), (-61.7922593806, -55.0011813286))
            ThreePointArc((-61.7922593806, -55.0011813286), (-61.9384921923, -55.6471800901), (-62.3486785805, -56.167223898))
            Line((-62.3486785805, -56.167223898), (-59.2212640931, -60.0319680984))
            Line((-59.2212640931, -60.0319680984), (-57.3830915935, -55.1481563307))
            ThreePointArc((-57.3830915935, -55.1481563307), (-57.1909066131, -54.1163733104), (-57.3658793212, -53.0815323472))
            ThreePointArc((-57.3658793212, -53.0815323472), (-58.5258742784, -51.0367975068), (-60.3096856504, -49.5056065138))
        make_face()
        with BuildLine():
            ThreePointArc((-61.7922593806, -55.0011813286), (-62.646260619, -53.6474141403), (-64.2358401806, -53.8351387591))
            Line((-64.2358401806, -53.8351387591), (-63.2922593806, -55.0011813286))
            Line((-63.2922593806, -55.0011813286), (-62.3486785805, -56.167223898))
            ThreePointArc((-62.3486785805, -56.167223898), (-61.9384921923, -55.6471800901), (-61.7922593806, -55.0011813286))
        make_face()
        with BuildLine():
            Line((-63.2922593806, -55.0011813286), (-64.2358401806, -53.8351387591))
            ThreePointArc((-64.2358401806, -53.8351387591), (-64.7894333017, -54.909147368), (-64.3715536264, -56.0428741484))
            Line((-64.3715536264, -56.0428741484), (-63.2922593806, -55.0011813286))
        make_face()
        with BuildLine():
            Line((-62.3486785805, -56.167223898), (-63.2922593806, -55.0011813286))
            Line((-63.2922593806, -55.0011813286), (-64.3715536264, -56.0428741484))
            ThreePointArc((-64.3715536264, -56.0428741484), (-63.3842933411, -56.4983552497), (-62.3486785805, -56.167223898))
        make_face()
    extrude(amount=F1_DEPTH)


solid = Compound([f1.part, f1b.part])
